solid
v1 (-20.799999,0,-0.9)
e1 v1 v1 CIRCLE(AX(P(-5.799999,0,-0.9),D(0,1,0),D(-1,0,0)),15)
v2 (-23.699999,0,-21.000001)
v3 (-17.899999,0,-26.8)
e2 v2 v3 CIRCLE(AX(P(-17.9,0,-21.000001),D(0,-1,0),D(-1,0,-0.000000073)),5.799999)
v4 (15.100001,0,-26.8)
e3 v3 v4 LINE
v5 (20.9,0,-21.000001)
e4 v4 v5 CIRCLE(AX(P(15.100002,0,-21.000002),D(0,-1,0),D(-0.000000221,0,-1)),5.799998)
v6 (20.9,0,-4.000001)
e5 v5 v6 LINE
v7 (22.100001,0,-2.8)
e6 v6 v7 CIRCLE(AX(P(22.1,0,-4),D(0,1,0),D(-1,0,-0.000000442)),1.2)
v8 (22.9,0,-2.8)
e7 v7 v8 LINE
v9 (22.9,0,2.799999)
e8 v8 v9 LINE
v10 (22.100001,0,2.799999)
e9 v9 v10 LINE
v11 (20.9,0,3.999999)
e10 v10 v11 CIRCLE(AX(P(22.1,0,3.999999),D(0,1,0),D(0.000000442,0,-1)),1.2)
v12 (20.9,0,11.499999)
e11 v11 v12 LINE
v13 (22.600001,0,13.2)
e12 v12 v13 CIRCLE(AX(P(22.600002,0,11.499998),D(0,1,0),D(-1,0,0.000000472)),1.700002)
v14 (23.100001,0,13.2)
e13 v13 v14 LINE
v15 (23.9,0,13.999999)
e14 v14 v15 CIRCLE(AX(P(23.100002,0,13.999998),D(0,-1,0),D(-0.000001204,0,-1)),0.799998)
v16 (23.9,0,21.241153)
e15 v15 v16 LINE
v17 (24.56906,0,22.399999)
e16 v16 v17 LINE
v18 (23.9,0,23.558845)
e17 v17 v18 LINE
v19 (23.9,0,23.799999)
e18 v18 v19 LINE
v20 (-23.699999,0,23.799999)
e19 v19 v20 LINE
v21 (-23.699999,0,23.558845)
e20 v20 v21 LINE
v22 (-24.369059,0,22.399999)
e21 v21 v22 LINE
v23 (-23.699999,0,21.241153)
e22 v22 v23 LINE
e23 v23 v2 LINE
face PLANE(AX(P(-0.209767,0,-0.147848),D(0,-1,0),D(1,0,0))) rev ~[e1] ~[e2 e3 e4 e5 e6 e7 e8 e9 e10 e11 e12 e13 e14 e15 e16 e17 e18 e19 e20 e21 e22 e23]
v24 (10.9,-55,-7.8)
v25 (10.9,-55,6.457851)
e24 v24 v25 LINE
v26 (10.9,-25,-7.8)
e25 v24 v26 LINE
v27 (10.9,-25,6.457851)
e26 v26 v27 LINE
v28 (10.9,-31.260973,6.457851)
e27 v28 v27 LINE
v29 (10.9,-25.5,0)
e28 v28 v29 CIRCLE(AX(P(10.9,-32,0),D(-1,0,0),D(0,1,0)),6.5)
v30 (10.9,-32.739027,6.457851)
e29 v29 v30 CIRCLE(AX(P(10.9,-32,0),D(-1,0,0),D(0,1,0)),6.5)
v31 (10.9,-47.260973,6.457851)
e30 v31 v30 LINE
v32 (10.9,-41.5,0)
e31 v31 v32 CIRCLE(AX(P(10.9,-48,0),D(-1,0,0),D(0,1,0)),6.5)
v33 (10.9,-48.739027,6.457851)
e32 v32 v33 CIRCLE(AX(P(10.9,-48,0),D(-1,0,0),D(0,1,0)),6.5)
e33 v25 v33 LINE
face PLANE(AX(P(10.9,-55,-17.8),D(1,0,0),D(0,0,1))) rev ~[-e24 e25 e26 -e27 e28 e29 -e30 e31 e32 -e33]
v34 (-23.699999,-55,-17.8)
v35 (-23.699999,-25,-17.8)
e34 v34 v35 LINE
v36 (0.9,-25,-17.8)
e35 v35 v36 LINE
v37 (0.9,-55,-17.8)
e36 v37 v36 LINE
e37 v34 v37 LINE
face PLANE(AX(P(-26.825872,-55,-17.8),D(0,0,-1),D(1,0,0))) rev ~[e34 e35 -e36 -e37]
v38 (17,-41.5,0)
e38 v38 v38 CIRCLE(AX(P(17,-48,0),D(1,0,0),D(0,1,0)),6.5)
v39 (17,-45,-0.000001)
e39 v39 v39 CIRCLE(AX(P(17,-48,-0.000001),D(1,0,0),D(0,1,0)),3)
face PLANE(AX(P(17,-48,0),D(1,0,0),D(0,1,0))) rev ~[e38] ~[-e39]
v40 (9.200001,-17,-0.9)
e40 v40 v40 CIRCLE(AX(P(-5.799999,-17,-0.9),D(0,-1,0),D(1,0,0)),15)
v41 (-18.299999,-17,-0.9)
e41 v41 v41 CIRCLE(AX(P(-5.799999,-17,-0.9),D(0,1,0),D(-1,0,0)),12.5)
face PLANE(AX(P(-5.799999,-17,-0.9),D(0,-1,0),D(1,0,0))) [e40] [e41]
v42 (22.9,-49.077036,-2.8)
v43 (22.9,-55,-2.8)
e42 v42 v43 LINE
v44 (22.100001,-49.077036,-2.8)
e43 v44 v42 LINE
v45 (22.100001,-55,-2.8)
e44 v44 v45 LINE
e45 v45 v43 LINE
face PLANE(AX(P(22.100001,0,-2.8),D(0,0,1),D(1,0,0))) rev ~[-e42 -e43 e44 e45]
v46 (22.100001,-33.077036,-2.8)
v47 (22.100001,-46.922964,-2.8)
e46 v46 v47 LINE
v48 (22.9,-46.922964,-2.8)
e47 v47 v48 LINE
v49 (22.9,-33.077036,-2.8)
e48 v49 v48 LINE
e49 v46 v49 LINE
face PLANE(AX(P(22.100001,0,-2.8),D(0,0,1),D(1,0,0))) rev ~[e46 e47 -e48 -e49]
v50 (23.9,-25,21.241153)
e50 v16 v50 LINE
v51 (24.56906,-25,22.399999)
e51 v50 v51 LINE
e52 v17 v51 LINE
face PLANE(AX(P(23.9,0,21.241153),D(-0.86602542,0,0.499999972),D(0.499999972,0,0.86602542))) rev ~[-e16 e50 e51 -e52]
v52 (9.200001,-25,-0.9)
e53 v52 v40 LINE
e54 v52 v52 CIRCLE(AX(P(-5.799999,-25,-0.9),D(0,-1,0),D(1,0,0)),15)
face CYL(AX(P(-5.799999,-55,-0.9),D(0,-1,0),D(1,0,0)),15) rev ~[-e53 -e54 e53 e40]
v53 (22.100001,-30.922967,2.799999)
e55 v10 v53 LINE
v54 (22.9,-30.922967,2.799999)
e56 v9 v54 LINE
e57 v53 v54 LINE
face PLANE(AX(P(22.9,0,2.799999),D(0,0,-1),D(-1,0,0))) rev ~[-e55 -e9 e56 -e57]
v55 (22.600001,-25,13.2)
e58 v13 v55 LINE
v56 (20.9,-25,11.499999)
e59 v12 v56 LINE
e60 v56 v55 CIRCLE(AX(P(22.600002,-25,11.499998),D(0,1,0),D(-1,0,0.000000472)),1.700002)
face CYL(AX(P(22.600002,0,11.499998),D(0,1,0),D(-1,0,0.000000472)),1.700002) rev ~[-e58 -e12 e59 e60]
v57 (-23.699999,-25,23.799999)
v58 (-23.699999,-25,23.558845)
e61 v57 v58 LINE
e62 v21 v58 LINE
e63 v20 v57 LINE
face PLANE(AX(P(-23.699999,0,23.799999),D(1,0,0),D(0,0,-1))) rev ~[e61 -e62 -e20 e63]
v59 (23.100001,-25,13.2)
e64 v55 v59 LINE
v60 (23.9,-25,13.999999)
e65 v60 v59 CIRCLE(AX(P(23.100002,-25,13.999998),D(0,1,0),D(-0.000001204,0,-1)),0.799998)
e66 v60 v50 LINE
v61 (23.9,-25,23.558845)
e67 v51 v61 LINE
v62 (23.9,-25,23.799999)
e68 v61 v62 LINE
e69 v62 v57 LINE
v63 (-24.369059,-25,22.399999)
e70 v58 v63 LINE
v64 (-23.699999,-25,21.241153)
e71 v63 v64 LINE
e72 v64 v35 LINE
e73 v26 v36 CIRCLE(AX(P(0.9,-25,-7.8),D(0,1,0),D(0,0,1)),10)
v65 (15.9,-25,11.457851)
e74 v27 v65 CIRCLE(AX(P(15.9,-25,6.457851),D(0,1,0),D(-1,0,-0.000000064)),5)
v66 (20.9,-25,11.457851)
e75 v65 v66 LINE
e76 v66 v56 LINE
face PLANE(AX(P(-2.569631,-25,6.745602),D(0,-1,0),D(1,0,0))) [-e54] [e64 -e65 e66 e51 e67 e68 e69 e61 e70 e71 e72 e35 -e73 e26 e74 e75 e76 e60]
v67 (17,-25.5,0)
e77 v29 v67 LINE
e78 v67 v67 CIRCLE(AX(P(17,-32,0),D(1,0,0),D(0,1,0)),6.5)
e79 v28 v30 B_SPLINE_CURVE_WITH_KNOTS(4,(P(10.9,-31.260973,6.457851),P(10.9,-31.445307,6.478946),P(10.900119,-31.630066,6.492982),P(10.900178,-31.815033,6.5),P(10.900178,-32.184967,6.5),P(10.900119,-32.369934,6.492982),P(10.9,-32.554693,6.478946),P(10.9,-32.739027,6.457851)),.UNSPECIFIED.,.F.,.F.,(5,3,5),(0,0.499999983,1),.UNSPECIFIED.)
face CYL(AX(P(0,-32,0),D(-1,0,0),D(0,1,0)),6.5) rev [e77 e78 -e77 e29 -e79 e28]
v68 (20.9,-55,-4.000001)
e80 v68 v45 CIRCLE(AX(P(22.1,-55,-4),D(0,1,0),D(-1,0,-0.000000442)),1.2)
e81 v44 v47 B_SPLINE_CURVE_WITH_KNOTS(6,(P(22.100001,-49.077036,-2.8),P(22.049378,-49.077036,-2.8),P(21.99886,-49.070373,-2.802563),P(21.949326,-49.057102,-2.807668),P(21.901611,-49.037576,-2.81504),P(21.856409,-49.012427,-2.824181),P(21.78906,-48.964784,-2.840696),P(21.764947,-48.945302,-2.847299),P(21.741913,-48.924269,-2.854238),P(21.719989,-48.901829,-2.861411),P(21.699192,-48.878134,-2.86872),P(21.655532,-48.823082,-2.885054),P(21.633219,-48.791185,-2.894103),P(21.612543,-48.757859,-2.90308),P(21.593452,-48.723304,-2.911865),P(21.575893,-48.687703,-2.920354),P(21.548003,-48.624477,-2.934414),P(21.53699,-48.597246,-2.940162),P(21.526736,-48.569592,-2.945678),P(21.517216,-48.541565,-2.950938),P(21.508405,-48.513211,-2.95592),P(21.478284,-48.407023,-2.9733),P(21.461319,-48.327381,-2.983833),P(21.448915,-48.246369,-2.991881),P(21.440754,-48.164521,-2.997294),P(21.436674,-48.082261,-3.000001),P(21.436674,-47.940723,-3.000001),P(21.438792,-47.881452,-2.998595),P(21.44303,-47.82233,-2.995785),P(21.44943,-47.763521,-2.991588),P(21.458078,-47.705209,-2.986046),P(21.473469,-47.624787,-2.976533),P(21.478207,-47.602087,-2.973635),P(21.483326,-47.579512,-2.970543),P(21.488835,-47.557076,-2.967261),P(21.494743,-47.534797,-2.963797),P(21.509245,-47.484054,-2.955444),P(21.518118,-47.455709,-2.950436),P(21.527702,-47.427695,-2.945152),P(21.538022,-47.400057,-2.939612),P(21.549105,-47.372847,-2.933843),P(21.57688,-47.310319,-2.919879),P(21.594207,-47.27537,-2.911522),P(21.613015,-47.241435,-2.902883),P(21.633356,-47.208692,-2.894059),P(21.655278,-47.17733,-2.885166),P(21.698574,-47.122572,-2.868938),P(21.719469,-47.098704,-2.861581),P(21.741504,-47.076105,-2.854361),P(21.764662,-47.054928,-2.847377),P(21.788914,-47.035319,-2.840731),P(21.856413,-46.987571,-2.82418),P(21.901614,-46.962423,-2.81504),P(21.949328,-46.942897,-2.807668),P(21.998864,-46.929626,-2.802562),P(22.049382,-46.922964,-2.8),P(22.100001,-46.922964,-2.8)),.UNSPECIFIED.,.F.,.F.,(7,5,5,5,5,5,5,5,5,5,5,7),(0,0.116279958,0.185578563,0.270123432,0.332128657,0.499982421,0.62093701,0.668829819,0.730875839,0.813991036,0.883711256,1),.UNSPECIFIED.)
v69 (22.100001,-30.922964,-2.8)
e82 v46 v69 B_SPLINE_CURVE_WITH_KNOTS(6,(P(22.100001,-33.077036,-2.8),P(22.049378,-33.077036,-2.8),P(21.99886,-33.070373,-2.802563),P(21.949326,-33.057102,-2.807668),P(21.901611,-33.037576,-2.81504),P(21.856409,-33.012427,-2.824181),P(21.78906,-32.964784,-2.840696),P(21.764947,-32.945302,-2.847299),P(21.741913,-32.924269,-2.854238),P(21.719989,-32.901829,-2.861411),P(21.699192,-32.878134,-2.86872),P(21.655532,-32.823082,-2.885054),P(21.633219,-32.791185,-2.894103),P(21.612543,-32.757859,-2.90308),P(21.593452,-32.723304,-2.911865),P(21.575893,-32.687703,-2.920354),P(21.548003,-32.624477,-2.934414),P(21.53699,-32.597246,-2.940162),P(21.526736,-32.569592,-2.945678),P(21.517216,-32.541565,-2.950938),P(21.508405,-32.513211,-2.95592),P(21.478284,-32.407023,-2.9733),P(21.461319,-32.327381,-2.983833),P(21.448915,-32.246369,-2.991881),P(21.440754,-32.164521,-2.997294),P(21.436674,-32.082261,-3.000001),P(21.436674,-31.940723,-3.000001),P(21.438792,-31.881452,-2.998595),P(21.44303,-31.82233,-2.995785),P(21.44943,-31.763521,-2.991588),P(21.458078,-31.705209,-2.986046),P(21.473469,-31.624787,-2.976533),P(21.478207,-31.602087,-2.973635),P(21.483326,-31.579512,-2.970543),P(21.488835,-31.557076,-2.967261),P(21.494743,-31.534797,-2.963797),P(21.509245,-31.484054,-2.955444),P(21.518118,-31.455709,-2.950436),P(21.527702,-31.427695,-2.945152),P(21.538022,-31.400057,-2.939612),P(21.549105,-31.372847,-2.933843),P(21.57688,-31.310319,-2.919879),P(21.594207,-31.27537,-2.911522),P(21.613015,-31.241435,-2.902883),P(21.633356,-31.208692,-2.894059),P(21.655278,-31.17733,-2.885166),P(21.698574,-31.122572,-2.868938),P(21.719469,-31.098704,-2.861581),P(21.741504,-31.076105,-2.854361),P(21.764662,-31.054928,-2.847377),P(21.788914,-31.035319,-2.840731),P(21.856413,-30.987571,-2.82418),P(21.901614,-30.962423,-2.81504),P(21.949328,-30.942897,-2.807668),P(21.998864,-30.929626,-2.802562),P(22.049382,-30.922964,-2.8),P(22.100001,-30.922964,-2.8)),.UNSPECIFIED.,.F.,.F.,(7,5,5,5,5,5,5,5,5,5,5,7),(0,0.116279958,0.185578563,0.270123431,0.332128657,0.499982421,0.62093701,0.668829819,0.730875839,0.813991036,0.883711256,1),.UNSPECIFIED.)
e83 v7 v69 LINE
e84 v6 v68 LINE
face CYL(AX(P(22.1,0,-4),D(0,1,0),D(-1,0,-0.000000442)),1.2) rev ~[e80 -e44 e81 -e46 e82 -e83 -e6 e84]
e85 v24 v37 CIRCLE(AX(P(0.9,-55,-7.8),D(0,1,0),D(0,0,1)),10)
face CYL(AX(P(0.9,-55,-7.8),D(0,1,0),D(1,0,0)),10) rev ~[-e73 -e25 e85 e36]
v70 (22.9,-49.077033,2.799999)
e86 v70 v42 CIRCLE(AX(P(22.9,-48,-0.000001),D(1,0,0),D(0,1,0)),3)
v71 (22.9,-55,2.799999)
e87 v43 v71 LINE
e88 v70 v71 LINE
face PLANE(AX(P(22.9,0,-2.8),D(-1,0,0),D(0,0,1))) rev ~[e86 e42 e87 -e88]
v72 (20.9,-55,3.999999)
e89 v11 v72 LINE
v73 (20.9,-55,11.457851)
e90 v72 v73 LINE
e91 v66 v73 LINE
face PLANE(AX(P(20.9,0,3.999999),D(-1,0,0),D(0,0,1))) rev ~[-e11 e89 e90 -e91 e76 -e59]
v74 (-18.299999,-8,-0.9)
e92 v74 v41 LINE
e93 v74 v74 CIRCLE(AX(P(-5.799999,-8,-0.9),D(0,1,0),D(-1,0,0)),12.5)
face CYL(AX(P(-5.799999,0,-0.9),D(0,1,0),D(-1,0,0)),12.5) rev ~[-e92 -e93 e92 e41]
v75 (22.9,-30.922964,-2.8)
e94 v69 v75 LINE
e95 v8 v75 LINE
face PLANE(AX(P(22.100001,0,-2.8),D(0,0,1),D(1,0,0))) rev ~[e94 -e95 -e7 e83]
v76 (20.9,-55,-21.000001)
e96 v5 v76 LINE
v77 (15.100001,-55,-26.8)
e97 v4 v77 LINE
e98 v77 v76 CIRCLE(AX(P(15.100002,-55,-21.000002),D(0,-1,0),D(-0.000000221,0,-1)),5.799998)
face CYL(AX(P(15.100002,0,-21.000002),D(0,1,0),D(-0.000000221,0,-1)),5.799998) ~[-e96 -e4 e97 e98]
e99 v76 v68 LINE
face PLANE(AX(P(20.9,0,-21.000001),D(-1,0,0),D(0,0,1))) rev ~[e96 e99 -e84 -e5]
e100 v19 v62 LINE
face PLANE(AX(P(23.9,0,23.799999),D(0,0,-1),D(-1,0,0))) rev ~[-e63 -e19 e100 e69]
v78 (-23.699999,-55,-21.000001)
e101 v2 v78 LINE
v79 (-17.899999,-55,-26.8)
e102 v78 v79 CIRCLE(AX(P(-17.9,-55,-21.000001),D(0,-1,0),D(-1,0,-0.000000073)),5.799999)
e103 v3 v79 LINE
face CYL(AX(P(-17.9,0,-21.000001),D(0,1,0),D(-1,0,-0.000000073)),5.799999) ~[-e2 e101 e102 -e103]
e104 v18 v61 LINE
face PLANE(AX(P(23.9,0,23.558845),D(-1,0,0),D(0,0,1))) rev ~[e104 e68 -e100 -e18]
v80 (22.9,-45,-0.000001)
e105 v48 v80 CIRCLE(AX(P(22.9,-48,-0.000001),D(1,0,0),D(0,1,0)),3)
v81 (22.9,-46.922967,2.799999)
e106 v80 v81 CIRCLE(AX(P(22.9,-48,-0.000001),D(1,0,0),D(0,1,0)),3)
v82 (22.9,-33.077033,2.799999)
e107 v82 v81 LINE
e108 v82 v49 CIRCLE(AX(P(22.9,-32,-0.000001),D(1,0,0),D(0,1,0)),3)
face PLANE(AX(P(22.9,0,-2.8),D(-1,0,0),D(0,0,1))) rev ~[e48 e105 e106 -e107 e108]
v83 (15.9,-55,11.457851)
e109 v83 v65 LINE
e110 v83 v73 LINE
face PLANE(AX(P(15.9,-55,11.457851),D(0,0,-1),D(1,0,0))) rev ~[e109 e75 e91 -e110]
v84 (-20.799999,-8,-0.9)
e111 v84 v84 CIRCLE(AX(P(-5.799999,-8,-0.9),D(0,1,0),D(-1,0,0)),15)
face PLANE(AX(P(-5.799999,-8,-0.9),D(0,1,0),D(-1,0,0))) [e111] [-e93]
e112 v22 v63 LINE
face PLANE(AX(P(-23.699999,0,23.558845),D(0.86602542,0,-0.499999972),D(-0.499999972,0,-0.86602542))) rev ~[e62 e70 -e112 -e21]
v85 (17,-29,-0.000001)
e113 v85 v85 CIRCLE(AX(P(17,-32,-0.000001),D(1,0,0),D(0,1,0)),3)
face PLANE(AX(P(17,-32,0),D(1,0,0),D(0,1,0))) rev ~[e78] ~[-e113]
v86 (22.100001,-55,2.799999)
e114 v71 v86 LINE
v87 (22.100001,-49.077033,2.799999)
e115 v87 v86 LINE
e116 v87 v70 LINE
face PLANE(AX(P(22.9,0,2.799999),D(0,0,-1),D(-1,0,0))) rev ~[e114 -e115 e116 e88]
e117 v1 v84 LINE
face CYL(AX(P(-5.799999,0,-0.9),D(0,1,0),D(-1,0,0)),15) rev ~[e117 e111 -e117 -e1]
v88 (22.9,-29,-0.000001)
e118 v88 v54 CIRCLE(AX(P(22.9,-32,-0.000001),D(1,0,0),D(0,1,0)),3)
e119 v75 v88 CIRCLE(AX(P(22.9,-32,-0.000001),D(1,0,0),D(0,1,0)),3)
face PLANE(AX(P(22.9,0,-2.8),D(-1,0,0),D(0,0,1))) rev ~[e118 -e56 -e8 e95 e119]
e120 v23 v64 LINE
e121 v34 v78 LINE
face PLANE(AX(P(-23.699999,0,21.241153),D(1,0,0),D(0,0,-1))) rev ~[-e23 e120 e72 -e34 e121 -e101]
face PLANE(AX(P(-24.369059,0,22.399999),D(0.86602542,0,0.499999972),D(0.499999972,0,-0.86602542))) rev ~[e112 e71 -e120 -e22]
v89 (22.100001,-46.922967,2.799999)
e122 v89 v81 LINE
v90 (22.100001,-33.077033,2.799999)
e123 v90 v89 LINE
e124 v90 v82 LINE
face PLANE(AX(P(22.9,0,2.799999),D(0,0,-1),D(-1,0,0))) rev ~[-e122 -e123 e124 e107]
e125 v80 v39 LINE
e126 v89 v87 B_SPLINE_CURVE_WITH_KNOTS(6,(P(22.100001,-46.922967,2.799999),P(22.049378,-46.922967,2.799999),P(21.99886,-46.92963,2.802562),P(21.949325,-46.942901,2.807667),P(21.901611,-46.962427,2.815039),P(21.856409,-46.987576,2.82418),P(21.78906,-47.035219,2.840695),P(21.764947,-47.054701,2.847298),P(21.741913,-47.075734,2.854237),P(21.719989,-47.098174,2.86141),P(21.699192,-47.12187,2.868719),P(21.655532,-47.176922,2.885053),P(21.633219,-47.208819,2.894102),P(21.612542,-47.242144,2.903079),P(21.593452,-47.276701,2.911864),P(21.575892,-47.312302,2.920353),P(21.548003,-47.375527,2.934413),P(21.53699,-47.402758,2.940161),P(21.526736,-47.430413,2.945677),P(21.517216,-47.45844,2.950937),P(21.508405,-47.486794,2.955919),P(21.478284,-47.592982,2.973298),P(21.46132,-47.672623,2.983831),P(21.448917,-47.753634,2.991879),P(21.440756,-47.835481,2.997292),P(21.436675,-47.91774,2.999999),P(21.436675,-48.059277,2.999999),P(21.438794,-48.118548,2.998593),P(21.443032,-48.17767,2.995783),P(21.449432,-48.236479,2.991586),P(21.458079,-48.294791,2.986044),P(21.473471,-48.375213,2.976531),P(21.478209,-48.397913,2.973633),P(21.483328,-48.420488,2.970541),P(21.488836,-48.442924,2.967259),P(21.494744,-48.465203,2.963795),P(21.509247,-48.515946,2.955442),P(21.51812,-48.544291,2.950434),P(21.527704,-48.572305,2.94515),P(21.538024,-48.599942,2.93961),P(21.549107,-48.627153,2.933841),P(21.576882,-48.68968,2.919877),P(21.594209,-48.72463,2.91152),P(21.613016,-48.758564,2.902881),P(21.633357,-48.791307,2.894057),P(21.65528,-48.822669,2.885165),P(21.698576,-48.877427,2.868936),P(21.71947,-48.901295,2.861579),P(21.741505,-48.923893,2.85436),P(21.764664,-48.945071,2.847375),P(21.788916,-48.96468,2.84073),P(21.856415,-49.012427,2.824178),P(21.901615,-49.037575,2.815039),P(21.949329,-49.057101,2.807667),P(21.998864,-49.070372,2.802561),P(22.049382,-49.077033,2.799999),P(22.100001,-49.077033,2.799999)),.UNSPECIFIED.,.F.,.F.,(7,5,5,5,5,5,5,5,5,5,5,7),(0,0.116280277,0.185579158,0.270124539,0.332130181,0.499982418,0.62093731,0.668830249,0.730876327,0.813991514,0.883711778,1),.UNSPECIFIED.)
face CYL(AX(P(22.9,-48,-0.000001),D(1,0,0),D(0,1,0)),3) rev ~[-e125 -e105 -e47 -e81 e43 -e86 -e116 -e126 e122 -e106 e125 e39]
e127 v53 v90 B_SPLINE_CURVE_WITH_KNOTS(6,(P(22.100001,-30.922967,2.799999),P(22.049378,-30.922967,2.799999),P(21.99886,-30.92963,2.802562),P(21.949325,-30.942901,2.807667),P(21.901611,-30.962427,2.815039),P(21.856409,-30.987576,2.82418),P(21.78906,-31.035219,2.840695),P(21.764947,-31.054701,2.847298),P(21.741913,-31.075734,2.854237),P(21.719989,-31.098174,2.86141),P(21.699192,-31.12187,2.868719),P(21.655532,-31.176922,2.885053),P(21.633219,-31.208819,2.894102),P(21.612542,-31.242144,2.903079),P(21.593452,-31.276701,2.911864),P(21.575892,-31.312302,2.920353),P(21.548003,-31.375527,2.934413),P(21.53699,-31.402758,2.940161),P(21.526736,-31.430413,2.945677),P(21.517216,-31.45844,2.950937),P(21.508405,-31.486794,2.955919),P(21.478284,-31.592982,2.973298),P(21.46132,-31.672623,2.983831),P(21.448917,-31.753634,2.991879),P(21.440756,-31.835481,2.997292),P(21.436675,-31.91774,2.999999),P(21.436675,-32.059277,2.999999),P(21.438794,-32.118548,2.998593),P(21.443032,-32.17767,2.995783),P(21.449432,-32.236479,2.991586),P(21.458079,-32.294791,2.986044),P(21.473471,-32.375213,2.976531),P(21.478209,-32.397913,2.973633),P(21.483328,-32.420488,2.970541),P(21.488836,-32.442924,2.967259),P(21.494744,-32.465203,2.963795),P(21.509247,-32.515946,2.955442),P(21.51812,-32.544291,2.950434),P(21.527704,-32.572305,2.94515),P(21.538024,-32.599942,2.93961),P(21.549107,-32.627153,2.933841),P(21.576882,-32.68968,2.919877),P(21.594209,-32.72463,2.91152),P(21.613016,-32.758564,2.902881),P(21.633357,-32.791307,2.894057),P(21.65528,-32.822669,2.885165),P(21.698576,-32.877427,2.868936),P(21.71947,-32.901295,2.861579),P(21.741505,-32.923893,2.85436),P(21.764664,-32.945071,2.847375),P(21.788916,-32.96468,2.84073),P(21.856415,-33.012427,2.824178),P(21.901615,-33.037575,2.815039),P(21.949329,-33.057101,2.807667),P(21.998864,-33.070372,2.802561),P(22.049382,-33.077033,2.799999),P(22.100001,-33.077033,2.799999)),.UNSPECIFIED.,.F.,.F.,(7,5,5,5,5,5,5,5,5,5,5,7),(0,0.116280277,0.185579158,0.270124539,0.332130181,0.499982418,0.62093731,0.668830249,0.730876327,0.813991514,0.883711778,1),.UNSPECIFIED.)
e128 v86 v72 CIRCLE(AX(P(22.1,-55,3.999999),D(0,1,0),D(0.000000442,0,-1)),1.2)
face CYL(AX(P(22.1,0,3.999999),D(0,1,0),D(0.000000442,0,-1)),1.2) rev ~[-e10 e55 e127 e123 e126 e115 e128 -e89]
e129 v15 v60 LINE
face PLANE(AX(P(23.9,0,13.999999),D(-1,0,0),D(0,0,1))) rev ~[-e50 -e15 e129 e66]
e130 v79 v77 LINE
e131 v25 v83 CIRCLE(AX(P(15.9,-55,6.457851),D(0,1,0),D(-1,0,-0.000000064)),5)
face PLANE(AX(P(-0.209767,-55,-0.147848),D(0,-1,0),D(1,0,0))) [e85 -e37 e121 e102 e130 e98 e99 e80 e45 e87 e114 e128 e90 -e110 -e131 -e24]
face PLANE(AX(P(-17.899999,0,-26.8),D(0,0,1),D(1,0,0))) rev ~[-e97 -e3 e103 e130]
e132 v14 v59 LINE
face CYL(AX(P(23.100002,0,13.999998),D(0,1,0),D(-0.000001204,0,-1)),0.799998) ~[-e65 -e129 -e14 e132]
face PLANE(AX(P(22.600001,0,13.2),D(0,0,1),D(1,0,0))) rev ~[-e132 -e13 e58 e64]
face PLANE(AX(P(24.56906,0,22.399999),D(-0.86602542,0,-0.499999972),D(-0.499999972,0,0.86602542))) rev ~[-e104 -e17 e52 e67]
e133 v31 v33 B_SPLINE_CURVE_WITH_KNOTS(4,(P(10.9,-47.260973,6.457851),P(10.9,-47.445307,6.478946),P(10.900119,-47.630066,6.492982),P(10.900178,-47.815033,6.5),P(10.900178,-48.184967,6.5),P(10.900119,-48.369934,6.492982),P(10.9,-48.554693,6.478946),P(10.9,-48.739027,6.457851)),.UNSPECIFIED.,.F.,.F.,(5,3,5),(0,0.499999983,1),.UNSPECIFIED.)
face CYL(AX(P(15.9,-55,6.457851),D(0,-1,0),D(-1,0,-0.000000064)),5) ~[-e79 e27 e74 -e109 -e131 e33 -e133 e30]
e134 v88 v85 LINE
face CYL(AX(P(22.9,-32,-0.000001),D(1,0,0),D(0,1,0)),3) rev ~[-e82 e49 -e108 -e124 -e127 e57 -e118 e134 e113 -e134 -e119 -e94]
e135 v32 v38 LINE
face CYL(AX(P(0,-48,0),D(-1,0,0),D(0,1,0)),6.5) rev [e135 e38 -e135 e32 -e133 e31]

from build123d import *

# Parameters (mm, degrees)
F1_DEPTH  = 55
F3_DEPTH  = 30
F4_R      = 3
F5_DEPTH  = 25
F6_R      = 12.5
F7_DEPTH  = 25
F8_R      = 15
F9_DEPTH  = 38
F10_R     = 15
F11_DEPTH = 8
F12_R     = 6.5
F13_DEPTH = 17
F14_R     = 10


with BuildPart() as f1:
    # F0 (on Front) → F1 (new body)
    with BuildSketch(Plane.XZ):
        with BuildLine():
            Line((-23.699999, 23.799999), (-23.699999, 23.558845))
            Line((-23.699999, 23.558845), (-24.369059, 22.399999))
            Line((-24.369059, 22.399999), (-23.699999, 21.241153))
            Line((-23.699999, 21.241153), (-23.699999, -21.000001))
            ThreePointArc((-23.699999, -21.000001), (-22.001218, -25.10122), (-17.899999, -26.8))
            Line((-17.899999, -26.8), (15.100001, -26.8))
            ThreePointArc((15.100001, -26.8), (19.20122, -25.10122), (20.9, -21.000001))
            Line((20.9, -21.000001), (20.9, -4.000001))
            ThreePointArc((20.9, -4.000001), (21.251472, -3.151472), (22.100001, -2.8))
            Line((22.100001, -2.8), (22.9, -2.8))
            Line((22.9, -2.8), (22.9, 2.799999))
            Line((22.9, 2.799999), (22.100001, 2.799999))
            ThreePointArc((22.100001, 2.799999), (21.251472, 3.151471), (20.9, 3.999999))
            Line((20.9, 3.999999), (20.9, 11.499999))
            ThreePointArc((20.9, 11.499999), (21.397919, 12.702081), (22.600001, 13.2))
            Line((22.600001, 13.2), (23.100001, 13.2))
            ThreePointArc((23.100001, 13.2), (23.665686, 13.434314), (23.9, 13.999999))
            Line((23.9, 13.999999), (23.9, 21.241153))
            Line((23.9, 21.241153), (24.56906, 22.399999))
            Line((24.56906, 22.399999), (23.9, 23.558845))
            Line((23.9, 23.558845), (23.9, 23.799999))
            Line((23.9, 23.799999), (-23.699999, 23.799999))
        make_face()
    extrude(amount=F1_DEPTH)

    # F2 (on face) → F3 (cut)
    with BuildSketch(Plane.XZ.offset(55)):
        with BuildLine():
            Line((15.9, 11.457851), (26.682628, 11.457851))
            Line((26.682628, 11.457851), (26.682628, 26.709846))
            Line((26.682628, 26.709846), (-26.825872, 26.709846))
            Line((-26.825872, 26.709846), (-26.825872, -17.8))
            Line((-26.825872, -17.8), (5.9, -17.8))
            Line((5.9, -17.8), (10.9, -17.8))
            Line((10.9, -17.8), (10.9, -11.8))
            Line((10.9, -11.8), (10.9, 6.457851))
            ThreePointArc((10.9, 6.457851), (12.364466, 9.993385), (15.9, 11.457851))
        make_face()
    extrude(amount=-F3_DEPTH, mode=Mode.SUBTRACT)

    # F4 (on face) → F5 (cut)
    with BuildSketch(Plane.YZ.offset(22.9)):
        with Locations((-48, -1e-06)):
            Circle(F4_R)
        with Locations((-32, -1e-06)):
            Circle(F4_R)
    extrude(amount=-F5_DEPTH, mode=Mode.SUBTRACT)

    # F6 (on face) → F7 (cut, through all)
    with BuildSketch(Plane(origin=(0, 0, 0), x_dir=(-1, 0, 0), z_dir=(0, 1, 0))):
        with Locations((5.799999, -0.9)):
            Circle(F6_R)
    extrude(amount=-F7_DEPTH, mode=Mode.SUBTRACT)

    # F8 (on face) → F9 (cut)
    with BuildSketch(Plane.XZ.offset(55)):
        with Locations((-5.799999, -0.9)):
            Circle(F8_R)
    extrude(amount=-F9_DEPTH, mode=Mode.SUBTRACT)

    # F10 (on face) → F11 (cut)
    with BuildSketch(Plane(origin=(0, 0, 0), x_dir=(-1, 0, 0), z_dir=(0, 1, 0))):
        with Locations((5.799999, -0.9)):
            Circle(F10_R)
    extrude(amount=-F11_DEPTH, mode=Mode.SUBTRACT)

    # F12 (on Right) → F13 (cut)
    with BuildSketch(Plane.YZ):
        with Locations((-32, 0)):
            Circle(F12_R)
        with Locations((-48, 0)):
            Circle(F12_R)
    extrude(amount=F13_DEPTH, mode=Mode.SUBTRACT)

    # F14
    f14_edges = [f1.edges().sort_by_distance(p)[0] for p in [
        (10.9, -40, -17.8),
    ]]
    fillet(f14_edges, radius=F14_R)


solid = f1.part
